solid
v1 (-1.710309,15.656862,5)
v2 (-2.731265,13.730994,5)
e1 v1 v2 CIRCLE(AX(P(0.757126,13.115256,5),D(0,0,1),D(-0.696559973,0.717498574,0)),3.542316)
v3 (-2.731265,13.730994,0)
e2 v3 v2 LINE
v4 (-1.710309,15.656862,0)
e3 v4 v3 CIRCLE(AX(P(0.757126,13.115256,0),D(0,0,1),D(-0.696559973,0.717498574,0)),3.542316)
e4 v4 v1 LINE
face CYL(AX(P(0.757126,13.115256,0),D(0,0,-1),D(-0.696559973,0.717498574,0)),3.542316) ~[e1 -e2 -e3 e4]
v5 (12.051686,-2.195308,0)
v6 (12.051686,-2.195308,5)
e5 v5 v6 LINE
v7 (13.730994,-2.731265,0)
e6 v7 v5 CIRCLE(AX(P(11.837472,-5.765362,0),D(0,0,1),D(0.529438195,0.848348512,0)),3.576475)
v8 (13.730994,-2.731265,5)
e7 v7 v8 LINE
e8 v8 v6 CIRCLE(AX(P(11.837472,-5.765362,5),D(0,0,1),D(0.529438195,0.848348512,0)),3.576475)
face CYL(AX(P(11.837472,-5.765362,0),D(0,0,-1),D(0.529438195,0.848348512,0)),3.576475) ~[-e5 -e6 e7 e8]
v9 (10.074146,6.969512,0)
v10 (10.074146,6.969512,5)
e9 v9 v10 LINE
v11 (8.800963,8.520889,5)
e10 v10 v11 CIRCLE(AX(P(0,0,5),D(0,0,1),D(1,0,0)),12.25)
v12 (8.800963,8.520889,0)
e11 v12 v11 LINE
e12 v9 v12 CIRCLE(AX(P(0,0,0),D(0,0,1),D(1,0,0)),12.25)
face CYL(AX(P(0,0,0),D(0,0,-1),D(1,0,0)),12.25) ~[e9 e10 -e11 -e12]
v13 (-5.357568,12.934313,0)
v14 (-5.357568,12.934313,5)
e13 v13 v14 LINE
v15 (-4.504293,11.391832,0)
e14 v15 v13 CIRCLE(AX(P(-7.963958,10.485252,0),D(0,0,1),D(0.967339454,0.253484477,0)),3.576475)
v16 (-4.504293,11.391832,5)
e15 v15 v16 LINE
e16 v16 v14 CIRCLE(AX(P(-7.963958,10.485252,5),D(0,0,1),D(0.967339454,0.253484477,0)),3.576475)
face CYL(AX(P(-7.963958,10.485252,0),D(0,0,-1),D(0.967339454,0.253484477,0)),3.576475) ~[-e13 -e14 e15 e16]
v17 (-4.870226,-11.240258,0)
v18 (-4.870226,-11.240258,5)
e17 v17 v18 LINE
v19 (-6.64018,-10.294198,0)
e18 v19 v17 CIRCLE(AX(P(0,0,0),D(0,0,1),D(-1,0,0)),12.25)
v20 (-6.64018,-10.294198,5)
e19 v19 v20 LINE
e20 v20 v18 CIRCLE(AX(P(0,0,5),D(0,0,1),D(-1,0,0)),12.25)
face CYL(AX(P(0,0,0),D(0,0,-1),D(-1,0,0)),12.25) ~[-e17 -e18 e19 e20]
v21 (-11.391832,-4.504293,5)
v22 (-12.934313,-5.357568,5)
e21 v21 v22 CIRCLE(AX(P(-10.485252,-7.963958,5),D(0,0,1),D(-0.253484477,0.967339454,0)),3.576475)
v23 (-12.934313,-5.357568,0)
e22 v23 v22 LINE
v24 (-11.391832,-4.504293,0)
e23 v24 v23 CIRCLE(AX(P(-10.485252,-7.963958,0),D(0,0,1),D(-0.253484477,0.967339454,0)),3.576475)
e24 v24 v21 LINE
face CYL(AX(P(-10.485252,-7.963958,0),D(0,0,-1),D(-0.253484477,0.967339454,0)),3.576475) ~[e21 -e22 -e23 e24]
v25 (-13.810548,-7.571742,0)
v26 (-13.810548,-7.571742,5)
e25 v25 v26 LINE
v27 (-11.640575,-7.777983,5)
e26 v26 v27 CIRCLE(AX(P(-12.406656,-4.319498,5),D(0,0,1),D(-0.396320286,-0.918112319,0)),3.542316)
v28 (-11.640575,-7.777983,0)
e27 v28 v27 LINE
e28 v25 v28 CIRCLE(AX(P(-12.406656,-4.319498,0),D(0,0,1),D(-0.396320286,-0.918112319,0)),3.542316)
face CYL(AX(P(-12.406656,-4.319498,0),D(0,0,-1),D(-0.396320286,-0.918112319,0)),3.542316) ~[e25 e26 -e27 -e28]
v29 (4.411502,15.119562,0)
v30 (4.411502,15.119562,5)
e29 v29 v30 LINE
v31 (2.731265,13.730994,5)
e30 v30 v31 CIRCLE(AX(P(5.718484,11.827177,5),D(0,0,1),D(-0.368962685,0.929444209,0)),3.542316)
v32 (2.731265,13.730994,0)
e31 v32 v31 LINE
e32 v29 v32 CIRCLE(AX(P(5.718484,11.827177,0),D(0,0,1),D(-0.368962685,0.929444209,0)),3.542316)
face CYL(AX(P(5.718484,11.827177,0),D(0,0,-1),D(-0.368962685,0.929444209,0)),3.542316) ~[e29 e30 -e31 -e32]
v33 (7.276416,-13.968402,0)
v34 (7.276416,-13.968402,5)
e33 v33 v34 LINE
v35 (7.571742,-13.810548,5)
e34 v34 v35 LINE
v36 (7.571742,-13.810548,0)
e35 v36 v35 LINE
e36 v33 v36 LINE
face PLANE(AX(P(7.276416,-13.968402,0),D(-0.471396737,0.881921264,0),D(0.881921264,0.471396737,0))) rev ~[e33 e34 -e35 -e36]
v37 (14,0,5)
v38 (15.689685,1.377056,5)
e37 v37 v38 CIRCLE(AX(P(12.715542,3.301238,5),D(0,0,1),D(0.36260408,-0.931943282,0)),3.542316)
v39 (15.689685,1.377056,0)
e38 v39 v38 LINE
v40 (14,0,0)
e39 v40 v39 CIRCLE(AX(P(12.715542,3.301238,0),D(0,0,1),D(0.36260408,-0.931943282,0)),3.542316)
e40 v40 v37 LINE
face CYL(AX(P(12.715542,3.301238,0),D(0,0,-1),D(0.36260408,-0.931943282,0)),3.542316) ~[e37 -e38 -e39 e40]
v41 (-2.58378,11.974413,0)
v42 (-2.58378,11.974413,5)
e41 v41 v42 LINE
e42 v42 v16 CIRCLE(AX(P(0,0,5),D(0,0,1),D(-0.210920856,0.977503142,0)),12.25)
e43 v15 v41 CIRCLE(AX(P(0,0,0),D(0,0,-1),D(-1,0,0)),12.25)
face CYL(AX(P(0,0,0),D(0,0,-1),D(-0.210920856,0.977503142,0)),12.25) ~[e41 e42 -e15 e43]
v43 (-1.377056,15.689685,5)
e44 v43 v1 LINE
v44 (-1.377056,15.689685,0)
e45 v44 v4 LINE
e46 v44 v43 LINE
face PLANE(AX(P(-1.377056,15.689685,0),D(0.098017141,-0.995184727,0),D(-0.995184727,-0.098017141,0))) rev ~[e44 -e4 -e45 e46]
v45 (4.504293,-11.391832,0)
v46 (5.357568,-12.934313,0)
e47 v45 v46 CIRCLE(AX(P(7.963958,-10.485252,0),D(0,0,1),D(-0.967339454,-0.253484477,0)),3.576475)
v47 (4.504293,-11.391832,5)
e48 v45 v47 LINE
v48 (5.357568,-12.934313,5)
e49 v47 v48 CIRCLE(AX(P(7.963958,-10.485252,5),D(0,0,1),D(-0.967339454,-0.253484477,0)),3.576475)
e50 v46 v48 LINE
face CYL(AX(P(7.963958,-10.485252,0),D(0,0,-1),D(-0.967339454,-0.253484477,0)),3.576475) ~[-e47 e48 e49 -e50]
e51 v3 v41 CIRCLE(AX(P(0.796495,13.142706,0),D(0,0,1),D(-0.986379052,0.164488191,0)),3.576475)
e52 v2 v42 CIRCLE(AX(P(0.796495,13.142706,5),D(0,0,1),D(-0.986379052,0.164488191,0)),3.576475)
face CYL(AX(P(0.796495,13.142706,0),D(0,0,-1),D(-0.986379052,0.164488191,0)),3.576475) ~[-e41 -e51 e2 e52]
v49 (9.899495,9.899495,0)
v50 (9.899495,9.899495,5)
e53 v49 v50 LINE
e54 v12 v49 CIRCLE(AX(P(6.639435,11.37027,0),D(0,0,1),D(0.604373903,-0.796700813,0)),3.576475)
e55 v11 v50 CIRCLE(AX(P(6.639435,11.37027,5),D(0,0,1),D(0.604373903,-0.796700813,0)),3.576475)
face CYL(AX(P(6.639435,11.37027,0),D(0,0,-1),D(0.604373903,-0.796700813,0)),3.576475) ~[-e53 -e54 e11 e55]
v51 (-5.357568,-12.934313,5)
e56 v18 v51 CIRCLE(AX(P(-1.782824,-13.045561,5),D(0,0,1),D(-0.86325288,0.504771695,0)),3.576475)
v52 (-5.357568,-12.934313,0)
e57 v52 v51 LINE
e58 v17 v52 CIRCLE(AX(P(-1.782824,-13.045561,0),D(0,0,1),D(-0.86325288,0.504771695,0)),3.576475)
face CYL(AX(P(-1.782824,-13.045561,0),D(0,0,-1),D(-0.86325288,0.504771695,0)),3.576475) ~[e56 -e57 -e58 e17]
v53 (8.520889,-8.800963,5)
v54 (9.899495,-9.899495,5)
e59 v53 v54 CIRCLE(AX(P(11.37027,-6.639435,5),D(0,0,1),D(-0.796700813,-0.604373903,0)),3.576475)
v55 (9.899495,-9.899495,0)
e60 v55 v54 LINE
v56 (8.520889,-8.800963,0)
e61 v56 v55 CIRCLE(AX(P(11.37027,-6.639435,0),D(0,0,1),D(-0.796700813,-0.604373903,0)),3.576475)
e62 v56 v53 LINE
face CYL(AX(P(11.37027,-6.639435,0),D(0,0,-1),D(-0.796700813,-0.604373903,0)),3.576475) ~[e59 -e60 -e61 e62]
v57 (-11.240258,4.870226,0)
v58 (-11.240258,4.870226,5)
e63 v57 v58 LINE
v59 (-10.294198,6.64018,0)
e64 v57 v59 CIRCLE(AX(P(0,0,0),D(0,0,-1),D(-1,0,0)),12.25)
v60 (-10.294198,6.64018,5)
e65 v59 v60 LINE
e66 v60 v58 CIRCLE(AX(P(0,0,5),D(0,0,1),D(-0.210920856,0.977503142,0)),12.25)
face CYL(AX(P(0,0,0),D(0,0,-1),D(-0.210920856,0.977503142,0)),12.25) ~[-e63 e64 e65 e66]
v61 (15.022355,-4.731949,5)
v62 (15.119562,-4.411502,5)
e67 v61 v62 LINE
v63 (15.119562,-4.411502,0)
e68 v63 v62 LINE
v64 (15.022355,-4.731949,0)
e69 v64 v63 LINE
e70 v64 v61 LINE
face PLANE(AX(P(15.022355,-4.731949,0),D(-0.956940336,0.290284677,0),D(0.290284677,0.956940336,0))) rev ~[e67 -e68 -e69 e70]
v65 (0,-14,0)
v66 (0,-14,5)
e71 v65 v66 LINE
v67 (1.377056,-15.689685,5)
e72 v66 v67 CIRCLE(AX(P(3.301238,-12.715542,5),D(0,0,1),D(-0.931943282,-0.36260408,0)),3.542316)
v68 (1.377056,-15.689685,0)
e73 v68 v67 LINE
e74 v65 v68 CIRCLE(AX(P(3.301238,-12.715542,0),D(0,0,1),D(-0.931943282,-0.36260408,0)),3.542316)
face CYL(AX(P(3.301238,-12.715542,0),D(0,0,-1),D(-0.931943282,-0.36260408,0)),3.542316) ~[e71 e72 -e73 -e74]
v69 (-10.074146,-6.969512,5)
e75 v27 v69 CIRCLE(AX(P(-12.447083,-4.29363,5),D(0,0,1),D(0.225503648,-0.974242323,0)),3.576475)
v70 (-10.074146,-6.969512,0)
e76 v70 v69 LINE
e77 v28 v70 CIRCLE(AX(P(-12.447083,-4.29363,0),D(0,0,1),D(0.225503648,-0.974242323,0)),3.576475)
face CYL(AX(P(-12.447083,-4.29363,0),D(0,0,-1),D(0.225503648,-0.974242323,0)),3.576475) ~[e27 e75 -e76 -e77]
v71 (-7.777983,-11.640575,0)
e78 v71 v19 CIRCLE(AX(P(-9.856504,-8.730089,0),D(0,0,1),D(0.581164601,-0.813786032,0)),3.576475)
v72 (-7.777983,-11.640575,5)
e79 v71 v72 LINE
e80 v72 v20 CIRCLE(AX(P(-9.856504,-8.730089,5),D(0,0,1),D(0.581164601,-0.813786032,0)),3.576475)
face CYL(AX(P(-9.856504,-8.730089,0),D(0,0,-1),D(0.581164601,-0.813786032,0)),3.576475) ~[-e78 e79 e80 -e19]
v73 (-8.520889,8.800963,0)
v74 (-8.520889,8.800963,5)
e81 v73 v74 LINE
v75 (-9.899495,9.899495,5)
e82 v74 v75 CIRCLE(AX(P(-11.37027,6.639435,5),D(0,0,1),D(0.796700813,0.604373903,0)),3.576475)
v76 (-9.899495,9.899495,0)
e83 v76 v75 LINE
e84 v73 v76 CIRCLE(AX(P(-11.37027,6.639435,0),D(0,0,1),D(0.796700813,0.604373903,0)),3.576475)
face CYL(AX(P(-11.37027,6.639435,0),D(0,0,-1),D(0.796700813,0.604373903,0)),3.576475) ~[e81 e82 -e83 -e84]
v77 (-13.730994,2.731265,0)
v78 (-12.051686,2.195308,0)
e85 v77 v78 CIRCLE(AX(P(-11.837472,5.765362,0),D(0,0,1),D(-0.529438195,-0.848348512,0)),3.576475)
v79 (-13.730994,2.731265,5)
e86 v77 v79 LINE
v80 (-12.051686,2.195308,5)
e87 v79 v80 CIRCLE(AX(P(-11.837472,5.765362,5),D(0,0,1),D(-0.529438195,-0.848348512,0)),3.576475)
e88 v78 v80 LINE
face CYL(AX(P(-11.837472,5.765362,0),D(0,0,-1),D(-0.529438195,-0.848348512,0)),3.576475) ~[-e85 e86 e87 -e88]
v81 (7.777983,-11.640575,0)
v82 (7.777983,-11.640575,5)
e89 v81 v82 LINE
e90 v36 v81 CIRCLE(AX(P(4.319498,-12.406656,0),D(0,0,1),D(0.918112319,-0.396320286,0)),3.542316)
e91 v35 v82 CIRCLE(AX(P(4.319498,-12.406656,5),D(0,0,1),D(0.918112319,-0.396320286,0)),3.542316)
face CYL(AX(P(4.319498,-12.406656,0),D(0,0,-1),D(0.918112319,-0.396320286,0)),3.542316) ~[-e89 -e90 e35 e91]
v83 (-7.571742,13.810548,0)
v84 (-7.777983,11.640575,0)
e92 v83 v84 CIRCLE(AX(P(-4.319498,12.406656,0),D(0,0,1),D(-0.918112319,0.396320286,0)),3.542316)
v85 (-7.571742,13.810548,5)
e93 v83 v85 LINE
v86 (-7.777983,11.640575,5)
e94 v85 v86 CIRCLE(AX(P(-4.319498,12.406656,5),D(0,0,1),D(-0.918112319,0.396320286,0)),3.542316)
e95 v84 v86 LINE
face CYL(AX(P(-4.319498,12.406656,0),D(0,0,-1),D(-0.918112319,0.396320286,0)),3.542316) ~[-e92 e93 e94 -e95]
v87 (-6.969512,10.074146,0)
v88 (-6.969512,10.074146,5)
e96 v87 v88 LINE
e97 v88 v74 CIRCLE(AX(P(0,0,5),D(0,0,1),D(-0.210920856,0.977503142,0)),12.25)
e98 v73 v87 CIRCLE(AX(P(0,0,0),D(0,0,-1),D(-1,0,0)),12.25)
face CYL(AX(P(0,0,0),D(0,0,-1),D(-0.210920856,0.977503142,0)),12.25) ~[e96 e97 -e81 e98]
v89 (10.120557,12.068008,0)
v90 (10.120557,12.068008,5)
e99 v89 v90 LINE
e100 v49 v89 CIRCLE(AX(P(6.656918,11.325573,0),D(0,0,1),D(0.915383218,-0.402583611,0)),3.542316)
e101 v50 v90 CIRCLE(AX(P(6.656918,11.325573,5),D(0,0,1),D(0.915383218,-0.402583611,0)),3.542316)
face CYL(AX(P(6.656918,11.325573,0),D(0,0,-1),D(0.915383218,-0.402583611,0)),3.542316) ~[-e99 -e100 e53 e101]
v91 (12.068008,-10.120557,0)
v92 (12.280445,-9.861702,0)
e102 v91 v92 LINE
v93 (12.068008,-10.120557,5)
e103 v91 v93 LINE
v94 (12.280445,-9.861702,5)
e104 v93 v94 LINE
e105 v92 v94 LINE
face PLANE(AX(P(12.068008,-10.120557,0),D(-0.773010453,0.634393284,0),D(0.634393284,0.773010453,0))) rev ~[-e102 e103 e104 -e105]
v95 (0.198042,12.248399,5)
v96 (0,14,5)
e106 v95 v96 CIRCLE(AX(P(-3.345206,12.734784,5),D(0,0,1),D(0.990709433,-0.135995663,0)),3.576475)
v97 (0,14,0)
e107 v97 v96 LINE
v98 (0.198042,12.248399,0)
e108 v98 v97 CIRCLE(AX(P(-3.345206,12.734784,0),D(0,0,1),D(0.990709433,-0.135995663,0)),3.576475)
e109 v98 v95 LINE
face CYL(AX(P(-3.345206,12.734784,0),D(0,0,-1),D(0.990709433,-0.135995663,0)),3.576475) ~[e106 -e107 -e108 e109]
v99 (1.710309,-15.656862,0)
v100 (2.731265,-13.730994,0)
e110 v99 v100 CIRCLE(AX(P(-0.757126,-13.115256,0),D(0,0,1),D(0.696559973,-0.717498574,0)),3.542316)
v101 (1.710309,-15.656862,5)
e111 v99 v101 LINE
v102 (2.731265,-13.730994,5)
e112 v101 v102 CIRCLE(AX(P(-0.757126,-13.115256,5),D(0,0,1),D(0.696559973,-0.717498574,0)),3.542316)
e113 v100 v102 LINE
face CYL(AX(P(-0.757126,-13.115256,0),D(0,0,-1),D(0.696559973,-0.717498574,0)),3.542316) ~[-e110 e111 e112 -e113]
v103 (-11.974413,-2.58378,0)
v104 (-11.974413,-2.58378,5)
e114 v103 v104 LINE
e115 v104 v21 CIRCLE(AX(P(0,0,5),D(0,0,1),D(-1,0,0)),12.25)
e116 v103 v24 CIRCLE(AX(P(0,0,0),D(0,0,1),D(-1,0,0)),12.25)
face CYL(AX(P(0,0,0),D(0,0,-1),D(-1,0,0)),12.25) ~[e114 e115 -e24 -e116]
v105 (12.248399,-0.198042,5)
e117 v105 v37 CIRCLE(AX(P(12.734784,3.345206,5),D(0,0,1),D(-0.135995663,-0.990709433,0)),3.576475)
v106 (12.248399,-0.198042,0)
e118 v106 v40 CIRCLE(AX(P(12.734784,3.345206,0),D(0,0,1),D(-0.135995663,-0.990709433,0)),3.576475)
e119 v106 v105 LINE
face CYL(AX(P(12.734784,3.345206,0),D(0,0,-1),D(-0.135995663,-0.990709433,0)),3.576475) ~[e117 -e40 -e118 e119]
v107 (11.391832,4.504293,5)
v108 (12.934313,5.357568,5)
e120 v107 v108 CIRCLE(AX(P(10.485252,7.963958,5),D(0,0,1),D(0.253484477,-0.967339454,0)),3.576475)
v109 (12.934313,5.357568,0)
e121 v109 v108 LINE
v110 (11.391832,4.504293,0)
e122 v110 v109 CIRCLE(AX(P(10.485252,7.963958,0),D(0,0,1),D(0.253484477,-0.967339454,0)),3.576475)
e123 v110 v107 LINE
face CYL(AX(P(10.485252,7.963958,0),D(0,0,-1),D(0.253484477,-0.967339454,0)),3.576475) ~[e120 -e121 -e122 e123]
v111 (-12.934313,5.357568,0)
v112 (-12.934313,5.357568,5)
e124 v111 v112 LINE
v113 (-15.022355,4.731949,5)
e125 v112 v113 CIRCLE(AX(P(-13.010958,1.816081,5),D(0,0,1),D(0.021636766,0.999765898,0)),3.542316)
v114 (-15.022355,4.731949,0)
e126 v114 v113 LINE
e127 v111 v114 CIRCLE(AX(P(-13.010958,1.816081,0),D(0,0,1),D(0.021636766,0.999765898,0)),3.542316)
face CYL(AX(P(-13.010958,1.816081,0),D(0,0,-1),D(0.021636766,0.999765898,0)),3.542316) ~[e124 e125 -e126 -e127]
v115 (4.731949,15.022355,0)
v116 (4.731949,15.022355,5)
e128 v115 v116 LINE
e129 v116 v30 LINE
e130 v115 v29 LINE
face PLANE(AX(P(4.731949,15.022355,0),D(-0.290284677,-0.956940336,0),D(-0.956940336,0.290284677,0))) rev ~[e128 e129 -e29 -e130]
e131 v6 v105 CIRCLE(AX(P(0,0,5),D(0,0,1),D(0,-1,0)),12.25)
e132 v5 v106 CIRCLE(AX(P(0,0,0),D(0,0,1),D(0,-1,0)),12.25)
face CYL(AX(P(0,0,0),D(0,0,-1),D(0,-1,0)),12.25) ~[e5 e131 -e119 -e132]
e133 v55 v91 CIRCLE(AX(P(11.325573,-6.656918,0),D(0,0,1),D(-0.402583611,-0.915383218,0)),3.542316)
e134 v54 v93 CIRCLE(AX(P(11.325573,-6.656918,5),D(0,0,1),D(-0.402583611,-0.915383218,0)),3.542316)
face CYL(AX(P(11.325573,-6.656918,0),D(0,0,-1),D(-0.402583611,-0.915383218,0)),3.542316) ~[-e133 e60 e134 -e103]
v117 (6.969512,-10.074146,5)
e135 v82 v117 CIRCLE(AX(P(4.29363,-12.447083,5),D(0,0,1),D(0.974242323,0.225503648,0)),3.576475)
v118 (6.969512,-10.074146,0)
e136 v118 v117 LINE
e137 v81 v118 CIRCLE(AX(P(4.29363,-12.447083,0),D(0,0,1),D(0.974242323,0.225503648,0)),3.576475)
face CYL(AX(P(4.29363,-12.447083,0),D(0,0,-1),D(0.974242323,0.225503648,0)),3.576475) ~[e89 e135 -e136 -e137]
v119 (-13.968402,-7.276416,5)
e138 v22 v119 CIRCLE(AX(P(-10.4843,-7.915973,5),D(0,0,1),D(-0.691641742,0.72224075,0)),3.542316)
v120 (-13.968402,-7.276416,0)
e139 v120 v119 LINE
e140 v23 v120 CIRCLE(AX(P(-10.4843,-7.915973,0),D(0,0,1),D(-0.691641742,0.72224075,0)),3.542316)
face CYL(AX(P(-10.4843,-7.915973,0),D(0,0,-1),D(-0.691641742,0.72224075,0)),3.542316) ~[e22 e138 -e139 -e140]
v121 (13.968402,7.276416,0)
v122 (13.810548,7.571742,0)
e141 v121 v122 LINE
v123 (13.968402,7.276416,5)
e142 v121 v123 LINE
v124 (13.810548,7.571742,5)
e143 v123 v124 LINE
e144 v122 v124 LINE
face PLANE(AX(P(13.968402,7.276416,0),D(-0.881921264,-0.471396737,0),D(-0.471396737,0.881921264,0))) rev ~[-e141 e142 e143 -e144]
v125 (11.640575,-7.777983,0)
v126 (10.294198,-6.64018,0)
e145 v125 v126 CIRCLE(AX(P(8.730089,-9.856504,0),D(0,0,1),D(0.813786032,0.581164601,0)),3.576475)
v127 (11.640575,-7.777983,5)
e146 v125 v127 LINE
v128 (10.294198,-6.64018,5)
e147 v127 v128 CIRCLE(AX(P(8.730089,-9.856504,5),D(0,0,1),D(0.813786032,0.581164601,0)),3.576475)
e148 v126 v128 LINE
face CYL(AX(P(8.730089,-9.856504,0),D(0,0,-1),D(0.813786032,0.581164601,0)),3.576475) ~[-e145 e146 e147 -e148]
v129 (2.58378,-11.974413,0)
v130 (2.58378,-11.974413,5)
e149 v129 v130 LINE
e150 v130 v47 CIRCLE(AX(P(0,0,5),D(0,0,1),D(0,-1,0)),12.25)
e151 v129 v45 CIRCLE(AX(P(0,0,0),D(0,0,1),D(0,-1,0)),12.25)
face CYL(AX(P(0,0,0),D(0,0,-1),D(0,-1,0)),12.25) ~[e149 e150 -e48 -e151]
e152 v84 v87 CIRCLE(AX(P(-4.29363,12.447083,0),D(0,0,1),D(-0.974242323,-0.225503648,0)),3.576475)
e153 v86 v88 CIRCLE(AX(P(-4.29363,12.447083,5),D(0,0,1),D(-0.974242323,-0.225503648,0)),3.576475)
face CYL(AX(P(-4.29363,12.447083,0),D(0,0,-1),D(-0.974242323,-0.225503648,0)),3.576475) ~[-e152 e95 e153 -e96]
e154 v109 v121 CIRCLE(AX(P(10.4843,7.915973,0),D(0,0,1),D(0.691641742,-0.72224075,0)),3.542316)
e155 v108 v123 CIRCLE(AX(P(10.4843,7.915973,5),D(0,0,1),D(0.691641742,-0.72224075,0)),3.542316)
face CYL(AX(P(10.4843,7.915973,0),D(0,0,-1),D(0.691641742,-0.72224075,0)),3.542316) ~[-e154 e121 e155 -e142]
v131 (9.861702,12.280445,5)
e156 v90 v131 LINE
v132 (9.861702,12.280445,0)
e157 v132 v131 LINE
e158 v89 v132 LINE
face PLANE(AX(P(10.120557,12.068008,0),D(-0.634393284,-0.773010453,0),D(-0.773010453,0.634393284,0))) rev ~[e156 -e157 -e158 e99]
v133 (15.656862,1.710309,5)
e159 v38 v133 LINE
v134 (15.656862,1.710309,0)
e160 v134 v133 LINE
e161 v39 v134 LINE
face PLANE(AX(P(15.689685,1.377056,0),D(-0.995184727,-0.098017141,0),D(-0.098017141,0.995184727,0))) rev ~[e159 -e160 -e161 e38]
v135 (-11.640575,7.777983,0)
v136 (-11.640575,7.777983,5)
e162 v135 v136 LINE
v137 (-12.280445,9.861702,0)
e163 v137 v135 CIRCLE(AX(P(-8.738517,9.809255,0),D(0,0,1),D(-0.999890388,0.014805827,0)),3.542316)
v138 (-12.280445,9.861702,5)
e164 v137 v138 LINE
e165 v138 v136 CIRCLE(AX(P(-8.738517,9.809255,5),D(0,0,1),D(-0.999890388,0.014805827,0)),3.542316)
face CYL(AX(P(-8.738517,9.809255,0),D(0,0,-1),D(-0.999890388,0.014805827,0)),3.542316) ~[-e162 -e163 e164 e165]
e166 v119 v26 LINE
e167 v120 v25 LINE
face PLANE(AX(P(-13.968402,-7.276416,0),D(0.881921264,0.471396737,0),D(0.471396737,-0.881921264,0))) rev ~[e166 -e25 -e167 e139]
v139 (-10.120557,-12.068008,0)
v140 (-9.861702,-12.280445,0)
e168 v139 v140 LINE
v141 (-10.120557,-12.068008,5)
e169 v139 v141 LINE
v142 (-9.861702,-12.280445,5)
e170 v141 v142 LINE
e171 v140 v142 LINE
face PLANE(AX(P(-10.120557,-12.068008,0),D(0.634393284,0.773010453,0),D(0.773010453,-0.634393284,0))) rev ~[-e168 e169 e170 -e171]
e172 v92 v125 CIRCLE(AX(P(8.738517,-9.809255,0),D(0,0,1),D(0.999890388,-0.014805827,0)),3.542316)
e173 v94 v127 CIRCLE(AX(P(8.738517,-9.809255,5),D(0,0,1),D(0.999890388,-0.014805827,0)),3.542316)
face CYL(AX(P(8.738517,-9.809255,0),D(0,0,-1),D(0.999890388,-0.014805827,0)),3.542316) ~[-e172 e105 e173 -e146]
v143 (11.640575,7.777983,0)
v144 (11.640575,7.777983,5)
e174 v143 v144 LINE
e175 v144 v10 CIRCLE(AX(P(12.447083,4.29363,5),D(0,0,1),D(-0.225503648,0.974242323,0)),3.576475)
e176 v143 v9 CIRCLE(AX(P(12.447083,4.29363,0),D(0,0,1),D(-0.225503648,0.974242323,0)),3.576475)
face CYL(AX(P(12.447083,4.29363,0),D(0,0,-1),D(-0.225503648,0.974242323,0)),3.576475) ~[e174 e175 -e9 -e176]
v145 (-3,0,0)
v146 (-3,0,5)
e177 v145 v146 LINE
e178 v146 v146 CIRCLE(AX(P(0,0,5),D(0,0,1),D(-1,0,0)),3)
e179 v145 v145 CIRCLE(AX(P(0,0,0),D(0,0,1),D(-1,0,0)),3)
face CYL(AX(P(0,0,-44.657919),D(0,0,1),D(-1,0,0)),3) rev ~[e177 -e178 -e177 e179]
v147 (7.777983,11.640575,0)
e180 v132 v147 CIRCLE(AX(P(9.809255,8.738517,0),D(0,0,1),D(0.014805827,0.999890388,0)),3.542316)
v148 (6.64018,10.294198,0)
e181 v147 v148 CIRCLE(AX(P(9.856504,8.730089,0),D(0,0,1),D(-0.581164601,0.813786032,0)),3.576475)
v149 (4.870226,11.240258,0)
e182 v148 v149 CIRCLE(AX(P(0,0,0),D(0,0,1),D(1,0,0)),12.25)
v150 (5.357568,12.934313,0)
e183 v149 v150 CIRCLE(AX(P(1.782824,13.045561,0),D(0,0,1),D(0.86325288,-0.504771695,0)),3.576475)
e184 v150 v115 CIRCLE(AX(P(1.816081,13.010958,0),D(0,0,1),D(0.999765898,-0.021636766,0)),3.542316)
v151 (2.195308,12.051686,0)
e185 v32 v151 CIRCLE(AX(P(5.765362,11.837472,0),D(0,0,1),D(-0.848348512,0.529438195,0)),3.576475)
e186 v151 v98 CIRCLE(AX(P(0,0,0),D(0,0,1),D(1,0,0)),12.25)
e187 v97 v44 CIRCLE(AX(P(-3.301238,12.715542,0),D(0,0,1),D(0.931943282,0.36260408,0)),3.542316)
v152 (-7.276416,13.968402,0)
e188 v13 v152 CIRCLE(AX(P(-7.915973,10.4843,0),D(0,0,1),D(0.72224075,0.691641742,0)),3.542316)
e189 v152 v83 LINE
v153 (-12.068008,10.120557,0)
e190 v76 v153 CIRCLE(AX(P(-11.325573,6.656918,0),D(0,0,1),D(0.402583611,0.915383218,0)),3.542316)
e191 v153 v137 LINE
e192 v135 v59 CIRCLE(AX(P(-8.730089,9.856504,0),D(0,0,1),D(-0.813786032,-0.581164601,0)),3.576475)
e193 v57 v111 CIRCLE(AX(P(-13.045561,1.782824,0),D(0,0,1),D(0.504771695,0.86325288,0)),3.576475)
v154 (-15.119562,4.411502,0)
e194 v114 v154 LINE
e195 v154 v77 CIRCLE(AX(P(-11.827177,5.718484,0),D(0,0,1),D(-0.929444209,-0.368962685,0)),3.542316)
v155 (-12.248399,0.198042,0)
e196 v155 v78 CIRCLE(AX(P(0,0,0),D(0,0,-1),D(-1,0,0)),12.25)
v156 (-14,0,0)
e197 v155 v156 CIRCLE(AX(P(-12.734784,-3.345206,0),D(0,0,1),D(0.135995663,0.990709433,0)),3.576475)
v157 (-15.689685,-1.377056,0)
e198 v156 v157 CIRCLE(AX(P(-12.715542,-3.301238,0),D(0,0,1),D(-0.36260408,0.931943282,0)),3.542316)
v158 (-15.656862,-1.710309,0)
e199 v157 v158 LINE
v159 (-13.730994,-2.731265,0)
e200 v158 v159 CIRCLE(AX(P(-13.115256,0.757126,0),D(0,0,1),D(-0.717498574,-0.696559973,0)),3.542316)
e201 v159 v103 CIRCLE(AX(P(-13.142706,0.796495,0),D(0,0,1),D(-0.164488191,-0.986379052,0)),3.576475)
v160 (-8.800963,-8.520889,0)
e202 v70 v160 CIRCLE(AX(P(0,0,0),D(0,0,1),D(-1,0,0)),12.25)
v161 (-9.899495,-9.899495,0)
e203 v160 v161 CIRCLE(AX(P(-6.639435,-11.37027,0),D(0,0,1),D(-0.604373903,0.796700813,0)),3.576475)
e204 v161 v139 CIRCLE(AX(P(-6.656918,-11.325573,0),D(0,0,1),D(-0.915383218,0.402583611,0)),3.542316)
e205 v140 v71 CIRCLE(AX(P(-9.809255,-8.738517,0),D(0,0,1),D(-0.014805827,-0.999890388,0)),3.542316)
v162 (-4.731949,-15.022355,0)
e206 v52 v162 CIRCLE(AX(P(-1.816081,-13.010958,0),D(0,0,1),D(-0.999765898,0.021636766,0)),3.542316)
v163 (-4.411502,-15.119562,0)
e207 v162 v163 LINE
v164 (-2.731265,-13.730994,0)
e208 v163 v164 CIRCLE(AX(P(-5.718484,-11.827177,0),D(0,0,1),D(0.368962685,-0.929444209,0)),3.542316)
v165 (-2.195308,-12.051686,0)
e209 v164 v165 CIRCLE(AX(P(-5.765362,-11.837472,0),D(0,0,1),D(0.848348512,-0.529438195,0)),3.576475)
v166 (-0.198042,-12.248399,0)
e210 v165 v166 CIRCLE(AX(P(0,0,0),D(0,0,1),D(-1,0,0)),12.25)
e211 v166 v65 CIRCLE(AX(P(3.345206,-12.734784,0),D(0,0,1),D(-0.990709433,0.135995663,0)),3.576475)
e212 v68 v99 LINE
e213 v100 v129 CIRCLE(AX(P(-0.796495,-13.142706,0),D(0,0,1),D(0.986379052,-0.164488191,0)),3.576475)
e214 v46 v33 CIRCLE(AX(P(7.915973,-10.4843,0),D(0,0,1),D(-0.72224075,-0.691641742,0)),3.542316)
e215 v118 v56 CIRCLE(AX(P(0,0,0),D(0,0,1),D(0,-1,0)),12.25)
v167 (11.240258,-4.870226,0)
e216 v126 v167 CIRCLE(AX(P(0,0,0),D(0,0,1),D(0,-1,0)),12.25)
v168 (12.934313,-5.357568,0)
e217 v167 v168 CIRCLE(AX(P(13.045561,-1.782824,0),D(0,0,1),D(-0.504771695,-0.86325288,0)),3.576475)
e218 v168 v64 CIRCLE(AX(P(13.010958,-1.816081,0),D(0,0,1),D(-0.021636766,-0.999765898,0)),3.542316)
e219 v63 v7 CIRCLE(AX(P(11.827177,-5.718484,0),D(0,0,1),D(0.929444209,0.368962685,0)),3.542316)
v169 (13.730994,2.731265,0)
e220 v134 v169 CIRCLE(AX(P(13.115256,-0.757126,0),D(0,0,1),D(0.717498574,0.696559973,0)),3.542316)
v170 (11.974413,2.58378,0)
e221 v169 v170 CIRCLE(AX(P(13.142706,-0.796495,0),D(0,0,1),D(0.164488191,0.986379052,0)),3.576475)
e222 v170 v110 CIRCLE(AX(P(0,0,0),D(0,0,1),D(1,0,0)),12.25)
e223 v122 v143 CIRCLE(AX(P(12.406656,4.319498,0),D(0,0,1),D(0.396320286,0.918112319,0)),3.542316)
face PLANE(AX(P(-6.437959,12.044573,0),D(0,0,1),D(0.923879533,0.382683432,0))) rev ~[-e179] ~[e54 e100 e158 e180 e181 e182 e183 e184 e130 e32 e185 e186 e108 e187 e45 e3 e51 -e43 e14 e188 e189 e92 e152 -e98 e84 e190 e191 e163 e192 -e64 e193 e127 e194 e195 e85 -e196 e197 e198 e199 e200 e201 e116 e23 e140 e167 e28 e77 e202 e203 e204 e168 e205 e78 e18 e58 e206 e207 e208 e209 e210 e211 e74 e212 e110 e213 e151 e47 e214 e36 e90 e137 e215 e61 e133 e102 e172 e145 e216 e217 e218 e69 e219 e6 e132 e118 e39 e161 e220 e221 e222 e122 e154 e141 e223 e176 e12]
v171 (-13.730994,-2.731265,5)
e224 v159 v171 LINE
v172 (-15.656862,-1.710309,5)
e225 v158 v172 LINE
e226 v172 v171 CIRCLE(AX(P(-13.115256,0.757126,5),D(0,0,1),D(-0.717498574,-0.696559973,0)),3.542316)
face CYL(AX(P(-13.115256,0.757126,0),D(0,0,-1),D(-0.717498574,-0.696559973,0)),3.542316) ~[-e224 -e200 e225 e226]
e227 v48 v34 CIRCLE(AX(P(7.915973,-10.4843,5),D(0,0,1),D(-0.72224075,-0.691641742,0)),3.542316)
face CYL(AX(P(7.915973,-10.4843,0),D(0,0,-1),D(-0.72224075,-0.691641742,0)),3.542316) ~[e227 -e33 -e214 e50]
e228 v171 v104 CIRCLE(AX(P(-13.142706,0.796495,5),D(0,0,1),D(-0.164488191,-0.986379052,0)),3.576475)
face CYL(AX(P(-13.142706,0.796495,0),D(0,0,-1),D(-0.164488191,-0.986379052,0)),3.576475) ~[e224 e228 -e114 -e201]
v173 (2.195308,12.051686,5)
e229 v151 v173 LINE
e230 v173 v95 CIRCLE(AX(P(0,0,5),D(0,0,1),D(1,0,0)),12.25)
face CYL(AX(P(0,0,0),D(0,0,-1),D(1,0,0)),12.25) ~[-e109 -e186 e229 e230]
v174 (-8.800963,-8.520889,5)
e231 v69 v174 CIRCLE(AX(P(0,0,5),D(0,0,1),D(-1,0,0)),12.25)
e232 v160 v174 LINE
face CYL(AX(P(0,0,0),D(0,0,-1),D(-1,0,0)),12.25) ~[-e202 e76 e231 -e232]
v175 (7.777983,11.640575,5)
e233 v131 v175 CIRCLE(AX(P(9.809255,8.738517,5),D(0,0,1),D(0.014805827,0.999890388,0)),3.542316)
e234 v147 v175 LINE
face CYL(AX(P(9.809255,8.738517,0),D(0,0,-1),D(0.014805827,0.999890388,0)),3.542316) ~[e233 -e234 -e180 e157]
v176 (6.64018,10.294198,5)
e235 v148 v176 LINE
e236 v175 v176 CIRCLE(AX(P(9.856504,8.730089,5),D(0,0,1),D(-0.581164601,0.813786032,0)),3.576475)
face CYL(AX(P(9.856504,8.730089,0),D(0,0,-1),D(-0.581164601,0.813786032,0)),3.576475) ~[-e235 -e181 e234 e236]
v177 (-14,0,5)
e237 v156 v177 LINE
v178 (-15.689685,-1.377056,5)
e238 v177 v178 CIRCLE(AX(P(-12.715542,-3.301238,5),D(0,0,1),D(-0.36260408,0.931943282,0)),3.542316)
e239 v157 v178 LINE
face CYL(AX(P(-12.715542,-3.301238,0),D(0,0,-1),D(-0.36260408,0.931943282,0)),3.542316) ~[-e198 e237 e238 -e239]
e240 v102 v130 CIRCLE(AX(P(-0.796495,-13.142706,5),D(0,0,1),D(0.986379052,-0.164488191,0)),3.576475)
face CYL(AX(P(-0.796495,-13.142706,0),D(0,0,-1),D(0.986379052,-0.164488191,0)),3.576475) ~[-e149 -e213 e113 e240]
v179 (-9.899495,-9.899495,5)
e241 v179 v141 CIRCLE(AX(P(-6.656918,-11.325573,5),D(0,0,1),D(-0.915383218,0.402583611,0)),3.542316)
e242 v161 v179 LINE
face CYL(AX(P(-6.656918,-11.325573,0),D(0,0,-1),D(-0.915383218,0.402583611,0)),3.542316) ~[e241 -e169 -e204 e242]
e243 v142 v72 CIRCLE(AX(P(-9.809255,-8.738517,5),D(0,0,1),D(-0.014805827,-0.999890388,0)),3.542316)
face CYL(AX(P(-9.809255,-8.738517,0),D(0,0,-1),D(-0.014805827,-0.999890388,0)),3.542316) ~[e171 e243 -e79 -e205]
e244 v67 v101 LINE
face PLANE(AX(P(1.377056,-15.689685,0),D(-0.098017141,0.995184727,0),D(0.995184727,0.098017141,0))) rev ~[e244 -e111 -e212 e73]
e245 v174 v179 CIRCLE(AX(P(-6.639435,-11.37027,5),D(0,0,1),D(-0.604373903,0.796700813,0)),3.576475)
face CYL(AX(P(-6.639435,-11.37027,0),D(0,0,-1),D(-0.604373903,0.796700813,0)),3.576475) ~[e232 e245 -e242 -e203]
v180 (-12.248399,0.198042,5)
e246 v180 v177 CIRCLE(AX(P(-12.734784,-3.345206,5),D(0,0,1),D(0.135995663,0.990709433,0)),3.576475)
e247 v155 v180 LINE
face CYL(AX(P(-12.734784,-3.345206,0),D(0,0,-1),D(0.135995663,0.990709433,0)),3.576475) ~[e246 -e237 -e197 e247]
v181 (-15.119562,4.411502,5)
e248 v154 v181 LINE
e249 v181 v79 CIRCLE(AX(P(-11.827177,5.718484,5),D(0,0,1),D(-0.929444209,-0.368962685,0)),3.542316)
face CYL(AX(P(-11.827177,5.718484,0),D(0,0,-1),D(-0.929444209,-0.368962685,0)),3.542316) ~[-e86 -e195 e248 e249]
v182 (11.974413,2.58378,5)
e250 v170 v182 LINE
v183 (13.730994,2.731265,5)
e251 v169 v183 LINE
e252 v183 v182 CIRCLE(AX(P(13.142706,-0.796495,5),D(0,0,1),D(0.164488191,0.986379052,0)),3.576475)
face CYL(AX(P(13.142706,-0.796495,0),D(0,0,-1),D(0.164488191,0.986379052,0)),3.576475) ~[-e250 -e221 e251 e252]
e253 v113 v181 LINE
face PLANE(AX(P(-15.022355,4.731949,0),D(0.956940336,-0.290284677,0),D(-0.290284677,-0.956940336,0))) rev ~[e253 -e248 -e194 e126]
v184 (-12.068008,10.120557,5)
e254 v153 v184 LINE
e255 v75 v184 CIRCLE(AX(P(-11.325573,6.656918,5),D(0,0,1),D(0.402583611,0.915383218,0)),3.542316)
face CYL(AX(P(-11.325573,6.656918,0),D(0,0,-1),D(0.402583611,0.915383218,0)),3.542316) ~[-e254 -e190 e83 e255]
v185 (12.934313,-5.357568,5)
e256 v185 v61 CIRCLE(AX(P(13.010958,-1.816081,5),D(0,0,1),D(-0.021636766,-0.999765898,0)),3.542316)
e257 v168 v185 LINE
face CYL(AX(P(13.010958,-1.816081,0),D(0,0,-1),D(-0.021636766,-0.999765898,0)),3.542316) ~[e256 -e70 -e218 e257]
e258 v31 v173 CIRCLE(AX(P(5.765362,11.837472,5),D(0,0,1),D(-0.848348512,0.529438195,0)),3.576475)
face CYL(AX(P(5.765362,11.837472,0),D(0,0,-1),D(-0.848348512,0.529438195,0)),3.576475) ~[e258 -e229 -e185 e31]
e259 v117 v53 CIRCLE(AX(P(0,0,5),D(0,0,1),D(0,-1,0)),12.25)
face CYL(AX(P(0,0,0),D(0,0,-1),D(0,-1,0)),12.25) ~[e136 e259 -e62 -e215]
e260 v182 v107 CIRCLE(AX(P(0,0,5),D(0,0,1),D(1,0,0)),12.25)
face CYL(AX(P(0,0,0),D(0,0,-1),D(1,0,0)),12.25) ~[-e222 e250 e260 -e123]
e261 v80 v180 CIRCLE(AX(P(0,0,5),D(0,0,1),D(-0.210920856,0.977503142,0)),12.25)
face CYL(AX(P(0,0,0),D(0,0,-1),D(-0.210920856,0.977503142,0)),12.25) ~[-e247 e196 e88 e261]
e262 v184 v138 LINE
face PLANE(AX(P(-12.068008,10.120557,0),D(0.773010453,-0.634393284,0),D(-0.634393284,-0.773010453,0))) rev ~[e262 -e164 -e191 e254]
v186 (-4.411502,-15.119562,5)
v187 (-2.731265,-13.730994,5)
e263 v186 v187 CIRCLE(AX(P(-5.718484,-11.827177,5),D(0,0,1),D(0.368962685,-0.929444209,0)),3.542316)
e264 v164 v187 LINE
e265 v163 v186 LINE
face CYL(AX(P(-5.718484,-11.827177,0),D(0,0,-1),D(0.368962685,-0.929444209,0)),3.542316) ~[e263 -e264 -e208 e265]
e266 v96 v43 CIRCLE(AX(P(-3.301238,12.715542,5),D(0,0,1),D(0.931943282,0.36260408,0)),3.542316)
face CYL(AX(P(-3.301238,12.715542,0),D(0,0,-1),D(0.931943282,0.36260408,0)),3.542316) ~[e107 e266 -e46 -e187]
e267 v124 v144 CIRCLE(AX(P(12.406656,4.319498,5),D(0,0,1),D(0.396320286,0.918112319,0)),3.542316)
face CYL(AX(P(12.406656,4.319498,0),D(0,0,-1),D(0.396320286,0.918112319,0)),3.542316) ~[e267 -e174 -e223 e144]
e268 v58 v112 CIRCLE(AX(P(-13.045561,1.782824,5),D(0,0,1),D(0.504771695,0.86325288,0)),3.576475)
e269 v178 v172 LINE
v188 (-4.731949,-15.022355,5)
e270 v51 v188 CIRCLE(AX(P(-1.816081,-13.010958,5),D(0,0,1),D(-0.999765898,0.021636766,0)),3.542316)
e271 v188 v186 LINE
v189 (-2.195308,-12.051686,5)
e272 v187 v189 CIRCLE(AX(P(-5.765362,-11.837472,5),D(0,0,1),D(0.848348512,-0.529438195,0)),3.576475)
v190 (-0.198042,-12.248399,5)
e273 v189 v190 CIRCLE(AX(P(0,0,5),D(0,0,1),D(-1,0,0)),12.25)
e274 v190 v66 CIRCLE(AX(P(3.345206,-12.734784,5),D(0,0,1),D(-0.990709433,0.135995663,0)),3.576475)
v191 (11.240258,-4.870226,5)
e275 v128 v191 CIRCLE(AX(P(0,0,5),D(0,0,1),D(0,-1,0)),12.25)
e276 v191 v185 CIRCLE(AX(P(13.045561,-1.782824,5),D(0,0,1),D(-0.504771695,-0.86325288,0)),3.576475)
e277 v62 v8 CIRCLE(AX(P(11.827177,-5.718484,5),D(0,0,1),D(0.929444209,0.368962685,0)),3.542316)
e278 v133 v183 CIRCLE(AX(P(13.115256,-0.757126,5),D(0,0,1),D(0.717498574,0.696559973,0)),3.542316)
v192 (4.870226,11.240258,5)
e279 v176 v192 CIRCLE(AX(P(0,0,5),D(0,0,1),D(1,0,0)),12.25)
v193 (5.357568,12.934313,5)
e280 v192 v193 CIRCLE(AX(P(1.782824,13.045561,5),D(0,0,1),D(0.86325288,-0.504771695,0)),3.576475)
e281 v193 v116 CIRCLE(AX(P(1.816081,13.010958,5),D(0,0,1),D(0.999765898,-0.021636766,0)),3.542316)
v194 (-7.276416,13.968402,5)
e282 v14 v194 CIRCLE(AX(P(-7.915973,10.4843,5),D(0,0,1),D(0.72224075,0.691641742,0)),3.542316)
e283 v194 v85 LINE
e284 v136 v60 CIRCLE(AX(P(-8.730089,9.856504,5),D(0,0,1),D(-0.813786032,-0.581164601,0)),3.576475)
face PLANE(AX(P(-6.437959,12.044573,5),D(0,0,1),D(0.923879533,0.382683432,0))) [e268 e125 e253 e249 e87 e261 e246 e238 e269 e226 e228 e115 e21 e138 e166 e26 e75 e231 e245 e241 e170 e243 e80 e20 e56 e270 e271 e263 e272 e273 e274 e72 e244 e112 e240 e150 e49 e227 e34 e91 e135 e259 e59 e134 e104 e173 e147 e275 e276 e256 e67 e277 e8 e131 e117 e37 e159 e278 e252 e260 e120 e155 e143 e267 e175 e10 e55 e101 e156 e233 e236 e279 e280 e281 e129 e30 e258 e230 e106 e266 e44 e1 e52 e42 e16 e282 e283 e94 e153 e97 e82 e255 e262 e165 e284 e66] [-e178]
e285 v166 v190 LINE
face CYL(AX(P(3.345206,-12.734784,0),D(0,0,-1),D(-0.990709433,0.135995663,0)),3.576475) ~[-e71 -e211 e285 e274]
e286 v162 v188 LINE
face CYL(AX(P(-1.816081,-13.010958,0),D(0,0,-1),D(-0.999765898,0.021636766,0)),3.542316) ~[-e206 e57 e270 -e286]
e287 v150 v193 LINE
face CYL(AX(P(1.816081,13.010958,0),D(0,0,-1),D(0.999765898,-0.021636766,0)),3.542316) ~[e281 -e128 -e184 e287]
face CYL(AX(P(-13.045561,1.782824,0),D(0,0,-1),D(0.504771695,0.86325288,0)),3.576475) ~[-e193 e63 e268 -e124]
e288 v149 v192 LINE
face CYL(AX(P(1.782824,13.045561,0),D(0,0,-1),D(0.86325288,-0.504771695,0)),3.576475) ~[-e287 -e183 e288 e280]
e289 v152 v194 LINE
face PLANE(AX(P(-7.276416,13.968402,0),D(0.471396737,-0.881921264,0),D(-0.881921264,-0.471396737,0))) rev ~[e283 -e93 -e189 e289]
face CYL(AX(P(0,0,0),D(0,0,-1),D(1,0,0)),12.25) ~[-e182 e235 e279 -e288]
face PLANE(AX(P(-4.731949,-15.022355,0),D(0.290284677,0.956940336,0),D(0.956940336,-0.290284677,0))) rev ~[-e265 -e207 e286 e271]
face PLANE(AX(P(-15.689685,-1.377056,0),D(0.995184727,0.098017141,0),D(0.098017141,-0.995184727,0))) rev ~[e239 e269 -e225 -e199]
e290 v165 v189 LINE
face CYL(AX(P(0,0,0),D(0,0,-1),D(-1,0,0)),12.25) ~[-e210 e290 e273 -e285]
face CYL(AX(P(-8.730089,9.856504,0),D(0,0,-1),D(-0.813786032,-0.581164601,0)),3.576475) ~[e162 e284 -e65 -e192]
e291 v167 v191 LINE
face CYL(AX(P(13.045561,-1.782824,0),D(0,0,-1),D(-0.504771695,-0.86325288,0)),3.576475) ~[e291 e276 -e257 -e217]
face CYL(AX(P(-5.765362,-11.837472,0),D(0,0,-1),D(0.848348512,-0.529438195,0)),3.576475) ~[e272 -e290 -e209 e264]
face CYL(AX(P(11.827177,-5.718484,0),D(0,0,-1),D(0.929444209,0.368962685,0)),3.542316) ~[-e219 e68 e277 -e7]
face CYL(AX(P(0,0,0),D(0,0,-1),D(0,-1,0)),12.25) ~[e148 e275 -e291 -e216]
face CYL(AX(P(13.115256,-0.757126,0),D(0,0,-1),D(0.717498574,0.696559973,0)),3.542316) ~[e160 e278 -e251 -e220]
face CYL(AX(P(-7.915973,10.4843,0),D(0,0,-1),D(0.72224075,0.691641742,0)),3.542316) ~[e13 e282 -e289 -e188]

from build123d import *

# Parameters (mm, degrees)
F1_DEPTH = 5
F2_DEPTH = 5
F3_COUNT = 16
F5_D     = 6


with BuildPart() as f1:
    # F0 (on Top) → F1 (new body)
    with BuildSketch(Plane.XY):
        with BuildLine():
            ThreePointArc((-2.5837804825, 11.9744134895), (-7.6945171742, -9.5318888713), (12.25, 0))
            ThreePointArc((12.25, 0), (8.7317956514, 8.59175446), (0.1980416814, 12.2483990583))
            ThreePointArc((0.1980416814, 12.2483990583), (-1.200709969, 12.1910129017), (-2.5837804825, 11.9744134895))
        make_face()
    extrude(amount=F1_DEPTH)

    # F0 (on Top) → F2 (join)
    with BuildSketch(Plane.XY):
        with BuildLine():
            ThreePointArc((-2.5837804825, 11.9744134895), (-1.200709969, 12.1910129017), (0.1980416814, 12.2483990583))
            ThreePointArc((0.1980416814, 12.2483990583), (0.208626449, 13.1365918946), (0, 14))
            ThreePointArc((0, 14), (-0.5553297077, 14.953396215), (-1.3770560583, 15.6896850387))
            Line((-1.3770560583, 15.6896850387), (-1.7103093943, 15.6568624499))
            ThreePointArc((-1.7103093943, 15.6568624499), (-2.3726036798, 14.7744103512), (-2.7312645082, 13.7309939256))
            ThreePointArc((-2.7312645082, 13.7309939256), (-2.7674396932, 12.8434749638), (-2.5837804825, 11.9744134895))
        make_face()
    extrude(amount=F2_DEPTH)

    # F3: F1 ×16 about axis
    f3_axis = Axis((0, 0, 5), (0, 0, -1))


with BuildPart() as f1_1:
    add(f1.part)
    for i in range(1, F3_COUNT):
        add(f1.part.rotate(f3_axis, i * 360 / F3_COUNT))

    # F5 (through all)
    with Locations(Plane(origin=(0, 0, 0), x_dir=(1, 0, 0), z_dir=(0, 0, -1))):
        with Locations((0, 0)):
            Hole(F5_D / 2)


solid = f1_1.part
